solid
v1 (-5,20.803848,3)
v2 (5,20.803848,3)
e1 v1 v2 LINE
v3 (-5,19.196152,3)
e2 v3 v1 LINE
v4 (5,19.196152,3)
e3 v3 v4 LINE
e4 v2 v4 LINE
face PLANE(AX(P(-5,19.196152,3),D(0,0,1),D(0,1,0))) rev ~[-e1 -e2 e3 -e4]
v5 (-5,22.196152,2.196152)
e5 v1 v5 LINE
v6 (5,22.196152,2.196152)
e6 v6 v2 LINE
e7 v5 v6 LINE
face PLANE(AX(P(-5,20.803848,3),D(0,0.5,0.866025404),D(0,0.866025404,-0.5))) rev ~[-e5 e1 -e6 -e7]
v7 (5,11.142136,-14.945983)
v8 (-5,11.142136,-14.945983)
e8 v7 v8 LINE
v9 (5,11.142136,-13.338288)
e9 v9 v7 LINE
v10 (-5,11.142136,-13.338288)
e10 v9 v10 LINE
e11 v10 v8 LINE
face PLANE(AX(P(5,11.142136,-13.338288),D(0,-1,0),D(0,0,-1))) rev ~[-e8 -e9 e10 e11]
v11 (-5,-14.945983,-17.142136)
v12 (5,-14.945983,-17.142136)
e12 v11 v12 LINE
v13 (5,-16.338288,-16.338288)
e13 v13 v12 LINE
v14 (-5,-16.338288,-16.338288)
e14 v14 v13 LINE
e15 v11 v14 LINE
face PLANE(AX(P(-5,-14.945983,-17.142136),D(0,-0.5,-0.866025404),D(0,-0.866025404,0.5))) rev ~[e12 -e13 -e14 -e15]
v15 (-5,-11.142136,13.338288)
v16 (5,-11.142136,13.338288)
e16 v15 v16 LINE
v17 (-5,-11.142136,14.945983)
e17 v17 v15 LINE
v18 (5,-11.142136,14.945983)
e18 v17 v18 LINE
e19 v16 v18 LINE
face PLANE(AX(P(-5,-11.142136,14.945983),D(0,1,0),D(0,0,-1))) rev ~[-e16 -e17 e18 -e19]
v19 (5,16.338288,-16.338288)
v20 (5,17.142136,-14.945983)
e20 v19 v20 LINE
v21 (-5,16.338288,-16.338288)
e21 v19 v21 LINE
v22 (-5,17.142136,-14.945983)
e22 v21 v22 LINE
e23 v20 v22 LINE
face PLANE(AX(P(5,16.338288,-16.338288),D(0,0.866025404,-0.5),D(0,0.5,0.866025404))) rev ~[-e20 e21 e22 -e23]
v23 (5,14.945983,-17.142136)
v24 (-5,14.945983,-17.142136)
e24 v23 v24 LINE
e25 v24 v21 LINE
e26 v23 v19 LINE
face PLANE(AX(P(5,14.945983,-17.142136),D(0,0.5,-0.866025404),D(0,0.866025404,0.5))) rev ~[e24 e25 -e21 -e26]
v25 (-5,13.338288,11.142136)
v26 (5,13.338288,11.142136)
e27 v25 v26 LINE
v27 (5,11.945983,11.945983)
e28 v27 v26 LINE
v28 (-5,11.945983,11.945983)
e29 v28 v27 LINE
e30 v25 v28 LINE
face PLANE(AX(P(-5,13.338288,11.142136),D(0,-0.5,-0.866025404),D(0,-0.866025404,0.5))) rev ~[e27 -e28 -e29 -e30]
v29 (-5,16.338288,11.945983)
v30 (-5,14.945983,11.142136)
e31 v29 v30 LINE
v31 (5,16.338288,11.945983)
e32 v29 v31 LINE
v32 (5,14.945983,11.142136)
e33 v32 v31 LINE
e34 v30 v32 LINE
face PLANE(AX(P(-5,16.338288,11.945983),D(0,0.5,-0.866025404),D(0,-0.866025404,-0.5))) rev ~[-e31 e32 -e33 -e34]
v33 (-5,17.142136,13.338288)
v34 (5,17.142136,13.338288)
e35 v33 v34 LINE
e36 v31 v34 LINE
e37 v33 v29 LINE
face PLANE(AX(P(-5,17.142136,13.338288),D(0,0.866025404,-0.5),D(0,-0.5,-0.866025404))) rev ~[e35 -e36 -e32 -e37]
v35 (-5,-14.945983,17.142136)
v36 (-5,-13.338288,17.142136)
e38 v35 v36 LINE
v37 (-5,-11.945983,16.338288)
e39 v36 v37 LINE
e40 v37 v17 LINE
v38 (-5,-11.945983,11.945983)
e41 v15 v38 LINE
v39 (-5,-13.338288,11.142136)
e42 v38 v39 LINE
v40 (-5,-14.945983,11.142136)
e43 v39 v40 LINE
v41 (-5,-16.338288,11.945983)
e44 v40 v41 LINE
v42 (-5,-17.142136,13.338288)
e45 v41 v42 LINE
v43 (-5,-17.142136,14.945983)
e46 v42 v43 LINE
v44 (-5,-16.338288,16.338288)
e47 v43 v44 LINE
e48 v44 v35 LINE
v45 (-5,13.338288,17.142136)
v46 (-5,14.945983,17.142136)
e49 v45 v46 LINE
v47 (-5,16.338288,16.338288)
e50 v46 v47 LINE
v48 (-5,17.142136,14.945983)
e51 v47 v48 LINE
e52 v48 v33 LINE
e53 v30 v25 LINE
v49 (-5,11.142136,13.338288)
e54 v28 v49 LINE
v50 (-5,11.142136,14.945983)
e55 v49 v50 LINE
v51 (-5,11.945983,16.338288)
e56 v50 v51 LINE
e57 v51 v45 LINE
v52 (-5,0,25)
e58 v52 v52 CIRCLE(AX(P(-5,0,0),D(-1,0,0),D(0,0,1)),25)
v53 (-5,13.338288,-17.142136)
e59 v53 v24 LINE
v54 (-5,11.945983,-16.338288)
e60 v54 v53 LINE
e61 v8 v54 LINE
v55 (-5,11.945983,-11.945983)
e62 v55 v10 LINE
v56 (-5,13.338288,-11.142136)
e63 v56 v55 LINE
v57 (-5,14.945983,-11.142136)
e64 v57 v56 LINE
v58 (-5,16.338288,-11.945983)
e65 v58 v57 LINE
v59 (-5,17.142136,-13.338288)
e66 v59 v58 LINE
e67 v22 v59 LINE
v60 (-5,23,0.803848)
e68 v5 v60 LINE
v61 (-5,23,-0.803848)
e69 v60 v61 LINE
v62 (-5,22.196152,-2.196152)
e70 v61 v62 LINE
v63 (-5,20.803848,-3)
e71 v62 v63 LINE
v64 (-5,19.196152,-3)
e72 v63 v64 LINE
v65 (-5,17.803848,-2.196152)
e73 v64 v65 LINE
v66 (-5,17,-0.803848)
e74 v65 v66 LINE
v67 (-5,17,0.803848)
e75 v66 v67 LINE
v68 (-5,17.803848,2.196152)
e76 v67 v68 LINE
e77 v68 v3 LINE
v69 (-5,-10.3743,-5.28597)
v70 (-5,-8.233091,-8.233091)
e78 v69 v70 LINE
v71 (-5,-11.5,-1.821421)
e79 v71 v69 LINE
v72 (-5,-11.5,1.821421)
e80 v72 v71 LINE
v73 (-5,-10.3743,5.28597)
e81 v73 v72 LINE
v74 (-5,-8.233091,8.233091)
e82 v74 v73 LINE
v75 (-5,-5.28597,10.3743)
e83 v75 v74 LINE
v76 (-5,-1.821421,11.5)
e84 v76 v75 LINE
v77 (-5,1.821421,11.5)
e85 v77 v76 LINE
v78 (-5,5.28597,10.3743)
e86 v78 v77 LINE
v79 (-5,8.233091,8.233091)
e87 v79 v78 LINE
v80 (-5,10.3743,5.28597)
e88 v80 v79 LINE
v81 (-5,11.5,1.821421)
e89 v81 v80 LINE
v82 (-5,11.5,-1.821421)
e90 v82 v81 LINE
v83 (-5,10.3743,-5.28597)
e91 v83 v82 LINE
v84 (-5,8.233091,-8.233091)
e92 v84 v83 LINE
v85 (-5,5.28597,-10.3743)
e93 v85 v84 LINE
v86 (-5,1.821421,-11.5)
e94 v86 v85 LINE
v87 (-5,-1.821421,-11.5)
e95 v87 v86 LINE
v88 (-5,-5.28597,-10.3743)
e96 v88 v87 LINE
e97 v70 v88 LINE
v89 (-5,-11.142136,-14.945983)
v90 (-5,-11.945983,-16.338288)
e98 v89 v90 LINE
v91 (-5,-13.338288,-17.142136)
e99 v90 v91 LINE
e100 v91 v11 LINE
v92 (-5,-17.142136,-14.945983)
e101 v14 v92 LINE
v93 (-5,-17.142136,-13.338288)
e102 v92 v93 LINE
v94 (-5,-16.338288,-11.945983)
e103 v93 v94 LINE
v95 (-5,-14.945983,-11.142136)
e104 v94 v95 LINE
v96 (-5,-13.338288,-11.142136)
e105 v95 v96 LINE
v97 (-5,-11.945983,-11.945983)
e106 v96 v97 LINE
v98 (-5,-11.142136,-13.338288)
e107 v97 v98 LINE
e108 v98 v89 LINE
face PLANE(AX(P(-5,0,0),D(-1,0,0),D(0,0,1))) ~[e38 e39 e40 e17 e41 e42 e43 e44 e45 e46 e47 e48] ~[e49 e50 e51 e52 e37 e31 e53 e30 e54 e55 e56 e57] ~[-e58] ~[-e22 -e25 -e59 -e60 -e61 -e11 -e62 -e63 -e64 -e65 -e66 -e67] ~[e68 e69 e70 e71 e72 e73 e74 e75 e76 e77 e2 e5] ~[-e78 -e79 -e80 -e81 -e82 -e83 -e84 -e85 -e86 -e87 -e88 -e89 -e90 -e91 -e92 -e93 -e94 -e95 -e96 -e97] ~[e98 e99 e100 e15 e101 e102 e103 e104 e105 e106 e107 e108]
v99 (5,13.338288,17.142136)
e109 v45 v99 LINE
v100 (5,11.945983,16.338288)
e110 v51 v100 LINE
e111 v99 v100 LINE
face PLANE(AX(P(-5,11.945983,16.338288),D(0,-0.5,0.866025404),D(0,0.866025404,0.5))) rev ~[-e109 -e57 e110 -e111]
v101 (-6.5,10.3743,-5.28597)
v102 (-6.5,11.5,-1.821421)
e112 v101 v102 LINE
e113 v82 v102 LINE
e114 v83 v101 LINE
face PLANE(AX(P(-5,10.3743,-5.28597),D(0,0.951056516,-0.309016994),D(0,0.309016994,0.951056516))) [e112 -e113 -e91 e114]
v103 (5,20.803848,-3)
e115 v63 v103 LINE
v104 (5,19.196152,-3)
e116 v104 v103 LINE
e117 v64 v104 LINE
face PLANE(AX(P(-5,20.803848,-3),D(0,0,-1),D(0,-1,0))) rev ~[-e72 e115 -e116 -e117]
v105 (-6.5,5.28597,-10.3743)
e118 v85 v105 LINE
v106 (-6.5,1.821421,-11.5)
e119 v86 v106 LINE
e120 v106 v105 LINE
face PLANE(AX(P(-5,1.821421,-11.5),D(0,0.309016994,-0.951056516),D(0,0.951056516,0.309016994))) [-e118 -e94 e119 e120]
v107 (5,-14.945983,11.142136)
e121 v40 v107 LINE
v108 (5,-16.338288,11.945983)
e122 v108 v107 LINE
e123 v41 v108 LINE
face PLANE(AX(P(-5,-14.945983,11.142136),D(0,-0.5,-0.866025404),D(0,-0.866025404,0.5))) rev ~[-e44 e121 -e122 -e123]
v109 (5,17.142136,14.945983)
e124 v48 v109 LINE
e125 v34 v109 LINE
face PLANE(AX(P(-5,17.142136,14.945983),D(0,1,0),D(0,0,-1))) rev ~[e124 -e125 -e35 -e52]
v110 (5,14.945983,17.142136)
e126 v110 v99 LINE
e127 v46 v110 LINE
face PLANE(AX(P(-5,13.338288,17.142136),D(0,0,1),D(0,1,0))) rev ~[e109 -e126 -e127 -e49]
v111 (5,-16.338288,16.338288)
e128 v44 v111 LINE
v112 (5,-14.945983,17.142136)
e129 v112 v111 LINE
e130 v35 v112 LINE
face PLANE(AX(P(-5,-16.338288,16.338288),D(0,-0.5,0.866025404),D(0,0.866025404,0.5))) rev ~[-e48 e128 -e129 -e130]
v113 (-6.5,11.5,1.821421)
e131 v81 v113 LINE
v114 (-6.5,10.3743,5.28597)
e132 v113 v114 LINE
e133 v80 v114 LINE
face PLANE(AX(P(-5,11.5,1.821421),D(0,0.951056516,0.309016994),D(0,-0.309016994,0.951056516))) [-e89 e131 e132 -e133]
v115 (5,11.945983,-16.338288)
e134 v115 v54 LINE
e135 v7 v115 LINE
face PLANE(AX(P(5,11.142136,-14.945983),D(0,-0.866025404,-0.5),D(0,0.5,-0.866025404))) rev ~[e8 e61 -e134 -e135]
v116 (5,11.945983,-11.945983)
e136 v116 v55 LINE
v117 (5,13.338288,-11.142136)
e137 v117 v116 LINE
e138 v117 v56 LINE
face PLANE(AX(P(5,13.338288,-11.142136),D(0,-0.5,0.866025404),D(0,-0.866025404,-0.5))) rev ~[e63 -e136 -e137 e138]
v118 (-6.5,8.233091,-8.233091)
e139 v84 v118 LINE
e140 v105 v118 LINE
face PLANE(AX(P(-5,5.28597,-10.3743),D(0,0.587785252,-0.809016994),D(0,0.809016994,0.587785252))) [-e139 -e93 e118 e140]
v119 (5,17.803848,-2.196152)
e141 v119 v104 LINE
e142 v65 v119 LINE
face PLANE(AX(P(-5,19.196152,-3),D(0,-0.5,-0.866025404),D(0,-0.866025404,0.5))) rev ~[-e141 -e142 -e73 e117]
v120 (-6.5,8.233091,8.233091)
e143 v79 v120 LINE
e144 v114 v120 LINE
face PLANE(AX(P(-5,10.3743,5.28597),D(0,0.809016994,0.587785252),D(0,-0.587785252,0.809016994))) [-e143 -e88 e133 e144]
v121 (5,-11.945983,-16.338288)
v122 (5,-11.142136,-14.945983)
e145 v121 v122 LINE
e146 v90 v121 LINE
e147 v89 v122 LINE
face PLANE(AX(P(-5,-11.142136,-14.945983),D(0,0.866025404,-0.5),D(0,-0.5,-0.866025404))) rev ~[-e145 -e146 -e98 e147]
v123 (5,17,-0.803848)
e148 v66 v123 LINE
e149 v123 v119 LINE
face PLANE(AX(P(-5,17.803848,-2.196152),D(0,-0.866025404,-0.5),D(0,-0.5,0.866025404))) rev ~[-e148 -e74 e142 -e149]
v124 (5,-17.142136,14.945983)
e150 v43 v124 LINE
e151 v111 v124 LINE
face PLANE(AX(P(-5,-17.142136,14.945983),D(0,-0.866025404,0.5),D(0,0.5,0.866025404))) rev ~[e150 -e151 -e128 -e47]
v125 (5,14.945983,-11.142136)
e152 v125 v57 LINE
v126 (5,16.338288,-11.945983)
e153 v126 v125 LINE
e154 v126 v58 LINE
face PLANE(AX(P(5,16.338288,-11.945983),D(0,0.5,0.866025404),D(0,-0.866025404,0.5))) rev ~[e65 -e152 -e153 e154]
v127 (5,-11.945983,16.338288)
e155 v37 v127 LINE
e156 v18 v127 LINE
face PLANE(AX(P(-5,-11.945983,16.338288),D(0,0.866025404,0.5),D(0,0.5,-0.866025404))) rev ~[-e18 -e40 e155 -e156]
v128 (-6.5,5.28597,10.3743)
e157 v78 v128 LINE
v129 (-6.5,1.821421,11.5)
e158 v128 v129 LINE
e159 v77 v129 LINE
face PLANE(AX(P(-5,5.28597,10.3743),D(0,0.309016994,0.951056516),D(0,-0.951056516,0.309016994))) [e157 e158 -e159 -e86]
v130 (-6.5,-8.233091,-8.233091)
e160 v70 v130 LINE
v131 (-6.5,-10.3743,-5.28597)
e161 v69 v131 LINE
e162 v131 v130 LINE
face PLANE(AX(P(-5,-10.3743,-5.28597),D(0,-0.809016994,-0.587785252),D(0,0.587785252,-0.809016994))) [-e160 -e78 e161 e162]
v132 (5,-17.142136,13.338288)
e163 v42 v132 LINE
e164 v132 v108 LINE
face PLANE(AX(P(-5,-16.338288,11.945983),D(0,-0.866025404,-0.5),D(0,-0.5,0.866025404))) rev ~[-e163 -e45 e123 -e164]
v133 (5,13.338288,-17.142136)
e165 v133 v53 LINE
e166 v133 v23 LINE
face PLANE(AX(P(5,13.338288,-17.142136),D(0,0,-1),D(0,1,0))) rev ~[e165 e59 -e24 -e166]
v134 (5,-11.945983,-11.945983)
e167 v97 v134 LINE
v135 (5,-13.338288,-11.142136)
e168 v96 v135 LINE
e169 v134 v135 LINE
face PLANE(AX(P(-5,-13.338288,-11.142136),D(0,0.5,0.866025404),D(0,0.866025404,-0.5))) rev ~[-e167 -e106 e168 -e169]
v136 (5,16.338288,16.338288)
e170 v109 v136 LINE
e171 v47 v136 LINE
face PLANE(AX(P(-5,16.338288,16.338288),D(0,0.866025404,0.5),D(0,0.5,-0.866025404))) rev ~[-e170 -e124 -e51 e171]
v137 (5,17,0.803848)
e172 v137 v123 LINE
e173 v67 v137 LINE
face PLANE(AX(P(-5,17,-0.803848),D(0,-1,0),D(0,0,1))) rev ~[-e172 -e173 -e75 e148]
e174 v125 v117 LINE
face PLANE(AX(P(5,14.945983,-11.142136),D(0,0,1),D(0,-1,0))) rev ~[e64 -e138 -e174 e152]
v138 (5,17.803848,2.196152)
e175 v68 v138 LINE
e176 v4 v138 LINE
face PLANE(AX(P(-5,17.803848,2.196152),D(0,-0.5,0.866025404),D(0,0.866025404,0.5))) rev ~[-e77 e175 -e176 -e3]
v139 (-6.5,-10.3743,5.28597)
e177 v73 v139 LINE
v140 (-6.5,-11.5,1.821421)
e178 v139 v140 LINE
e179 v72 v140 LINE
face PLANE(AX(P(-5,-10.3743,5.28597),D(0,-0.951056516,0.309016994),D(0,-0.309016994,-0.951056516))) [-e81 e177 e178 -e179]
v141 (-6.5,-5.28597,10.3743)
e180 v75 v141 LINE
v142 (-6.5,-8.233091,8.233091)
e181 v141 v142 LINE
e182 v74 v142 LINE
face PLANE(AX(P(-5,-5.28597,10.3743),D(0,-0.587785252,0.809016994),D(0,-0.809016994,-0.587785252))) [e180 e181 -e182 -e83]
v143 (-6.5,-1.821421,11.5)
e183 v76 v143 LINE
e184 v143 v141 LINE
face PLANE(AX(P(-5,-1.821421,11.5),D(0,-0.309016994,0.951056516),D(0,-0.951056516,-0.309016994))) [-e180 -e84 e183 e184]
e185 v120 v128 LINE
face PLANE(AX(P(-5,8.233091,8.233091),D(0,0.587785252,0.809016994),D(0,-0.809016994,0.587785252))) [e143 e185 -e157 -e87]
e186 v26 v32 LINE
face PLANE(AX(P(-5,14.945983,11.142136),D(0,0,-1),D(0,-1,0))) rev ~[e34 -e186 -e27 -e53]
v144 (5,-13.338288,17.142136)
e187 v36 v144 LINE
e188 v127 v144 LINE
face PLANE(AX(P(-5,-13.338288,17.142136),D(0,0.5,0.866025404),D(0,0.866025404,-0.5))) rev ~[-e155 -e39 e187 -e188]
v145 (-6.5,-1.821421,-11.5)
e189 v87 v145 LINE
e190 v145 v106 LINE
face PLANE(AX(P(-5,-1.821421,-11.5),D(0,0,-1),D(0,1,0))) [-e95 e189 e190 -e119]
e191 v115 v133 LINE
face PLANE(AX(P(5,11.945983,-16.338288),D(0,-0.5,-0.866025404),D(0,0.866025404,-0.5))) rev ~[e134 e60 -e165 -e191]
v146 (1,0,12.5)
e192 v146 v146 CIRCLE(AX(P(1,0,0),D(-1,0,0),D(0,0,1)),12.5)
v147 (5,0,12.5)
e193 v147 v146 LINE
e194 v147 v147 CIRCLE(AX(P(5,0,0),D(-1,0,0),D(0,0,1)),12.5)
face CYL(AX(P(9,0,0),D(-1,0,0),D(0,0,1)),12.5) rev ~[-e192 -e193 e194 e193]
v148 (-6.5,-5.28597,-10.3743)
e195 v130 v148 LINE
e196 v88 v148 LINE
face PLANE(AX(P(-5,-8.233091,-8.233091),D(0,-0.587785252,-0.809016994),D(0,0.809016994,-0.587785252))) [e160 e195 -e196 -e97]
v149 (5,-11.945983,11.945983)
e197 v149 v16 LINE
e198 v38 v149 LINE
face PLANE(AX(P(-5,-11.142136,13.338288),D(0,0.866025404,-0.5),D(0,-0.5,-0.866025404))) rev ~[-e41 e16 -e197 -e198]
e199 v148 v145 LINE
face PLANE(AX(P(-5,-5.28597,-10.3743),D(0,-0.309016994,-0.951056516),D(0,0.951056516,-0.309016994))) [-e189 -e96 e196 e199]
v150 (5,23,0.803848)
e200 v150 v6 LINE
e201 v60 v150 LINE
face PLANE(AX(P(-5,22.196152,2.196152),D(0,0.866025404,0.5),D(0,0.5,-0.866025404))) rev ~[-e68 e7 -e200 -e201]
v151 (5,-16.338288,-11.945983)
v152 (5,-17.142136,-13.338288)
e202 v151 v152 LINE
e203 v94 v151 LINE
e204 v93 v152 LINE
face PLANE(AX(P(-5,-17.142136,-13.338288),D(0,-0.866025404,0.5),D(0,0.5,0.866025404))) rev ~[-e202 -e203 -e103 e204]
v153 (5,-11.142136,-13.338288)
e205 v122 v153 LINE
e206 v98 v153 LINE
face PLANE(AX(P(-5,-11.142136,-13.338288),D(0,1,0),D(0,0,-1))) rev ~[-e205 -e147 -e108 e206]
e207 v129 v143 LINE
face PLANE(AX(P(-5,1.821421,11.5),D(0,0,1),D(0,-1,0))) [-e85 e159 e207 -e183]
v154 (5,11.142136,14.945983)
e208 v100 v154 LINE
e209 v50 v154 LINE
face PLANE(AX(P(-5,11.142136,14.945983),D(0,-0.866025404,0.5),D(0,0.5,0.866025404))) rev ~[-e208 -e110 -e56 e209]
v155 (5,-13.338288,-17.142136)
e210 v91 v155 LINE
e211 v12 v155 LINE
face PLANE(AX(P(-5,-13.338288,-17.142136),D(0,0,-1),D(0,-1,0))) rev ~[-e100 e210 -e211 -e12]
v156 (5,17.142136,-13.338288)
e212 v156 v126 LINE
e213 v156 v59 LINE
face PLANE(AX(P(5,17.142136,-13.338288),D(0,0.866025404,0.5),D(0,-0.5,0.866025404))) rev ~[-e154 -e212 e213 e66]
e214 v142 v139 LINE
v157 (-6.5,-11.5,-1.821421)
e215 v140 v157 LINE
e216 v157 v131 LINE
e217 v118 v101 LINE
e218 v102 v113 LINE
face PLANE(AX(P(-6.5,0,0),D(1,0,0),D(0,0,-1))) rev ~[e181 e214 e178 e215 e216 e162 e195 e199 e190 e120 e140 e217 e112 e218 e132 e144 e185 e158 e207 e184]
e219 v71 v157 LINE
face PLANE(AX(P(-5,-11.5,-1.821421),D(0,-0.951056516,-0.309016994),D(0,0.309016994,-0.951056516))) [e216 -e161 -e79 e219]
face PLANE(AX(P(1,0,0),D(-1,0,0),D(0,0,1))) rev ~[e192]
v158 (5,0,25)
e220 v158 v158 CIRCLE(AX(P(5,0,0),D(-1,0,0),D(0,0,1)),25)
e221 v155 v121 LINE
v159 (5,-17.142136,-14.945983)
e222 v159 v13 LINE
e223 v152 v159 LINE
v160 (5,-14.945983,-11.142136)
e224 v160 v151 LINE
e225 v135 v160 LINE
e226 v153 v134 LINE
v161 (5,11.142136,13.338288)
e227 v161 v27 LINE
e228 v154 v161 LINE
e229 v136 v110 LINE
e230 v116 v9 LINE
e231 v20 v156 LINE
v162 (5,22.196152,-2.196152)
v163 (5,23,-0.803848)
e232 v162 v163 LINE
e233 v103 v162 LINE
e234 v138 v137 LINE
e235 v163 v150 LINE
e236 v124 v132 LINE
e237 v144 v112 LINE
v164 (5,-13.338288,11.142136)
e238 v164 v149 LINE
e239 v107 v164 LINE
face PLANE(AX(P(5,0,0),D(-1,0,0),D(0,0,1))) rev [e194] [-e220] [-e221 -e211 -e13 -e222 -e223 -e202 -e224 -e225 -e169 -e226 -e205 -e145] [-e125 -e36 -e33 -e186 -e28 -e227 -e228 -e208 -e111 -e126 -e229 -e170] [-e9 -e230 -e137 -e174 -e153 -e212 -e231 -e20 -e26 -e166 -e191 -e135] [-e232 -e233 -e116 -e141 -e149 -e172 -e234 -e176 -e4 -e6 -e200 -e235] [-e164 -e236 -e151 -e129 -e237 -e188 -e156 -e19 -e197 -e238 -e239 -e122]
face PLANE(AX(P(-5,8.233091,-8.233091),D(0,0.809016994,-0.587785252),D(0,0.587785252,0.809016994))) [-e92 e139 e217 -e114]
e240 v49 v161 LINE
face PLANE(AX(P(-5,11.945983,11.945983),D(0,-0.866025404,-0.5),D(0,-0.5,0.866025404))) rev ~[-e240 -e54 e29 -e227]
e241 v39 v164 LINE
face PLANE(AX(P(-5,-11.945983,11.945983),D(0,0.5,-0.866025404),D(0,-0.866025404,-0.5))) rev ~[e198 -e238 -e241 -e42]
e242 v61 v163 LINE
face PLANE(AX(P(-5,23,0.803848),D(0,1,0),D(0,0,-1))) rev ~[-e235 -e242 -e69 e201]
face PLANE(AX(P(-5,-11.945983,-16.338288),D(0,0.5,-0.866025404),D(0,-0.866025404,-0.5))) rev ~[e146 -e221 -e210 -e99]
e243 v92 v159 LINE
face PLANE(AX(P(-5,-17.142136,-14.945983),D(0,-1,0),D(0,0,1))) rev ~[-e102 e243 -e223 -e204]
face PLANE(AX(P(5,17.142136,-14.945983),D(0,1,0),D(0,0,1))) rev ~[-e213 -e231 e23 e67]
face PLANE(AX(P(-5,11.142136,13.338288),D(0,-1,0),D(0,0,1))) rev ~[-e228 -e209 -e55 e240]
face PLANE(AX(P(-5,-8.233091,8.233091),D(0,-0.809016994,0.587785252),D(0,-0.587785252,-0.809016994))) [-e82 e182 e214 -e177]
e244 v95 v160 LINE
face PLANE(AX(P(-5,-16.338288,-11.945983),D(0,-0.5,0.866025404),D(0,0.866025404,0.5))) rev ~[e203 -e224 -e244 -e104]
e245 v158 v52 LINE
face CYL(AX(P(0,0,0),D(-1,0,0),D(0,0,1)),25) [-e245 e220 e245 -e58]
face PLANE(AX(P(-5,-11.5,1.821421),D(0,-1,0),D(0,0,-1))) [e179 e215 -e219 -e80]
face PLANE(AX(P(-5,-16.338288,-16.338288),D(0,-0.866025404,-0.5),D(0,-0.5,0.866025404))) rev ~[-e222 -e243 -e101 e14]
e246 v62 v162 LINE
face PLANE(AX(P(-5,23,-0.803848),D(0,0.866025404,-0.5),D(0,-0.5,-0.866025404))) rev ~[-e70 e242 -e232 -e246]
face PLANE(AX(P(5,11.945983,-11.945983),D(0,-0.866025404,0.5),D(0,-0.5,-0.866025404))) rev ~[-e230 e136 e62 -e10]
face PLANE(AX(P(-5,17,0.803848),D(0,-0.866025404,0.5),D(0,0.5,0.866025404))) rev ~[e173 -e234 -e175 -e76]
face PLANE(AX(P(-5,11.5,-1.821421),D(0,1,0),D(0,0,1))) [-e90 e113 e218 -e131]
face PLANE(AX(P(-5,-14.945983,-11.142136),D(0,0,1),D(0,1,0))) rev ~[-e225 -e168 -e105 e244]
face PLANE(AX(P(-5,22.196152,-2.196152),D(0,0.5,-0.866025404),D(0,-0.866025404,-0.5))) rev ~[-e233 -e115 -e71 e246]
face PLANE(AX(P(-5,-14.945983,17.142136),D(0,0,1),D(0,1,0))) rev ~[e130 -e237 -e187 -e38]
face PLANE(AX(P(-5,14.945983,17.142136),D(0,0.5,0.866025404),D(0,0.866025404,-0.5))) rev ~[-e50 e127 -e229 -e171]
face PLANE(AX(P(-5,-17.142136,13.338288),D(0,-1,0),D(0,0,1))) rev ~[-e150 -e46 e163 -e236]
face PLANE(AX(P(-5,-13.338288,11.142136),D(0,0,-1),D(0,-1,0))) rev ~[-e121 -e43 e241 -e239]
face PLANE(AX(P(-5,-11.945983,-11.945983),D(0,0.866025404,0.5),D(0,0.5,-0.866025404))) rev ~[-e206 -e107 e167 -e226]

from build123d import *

# Parameters (mm, degrees)
SKETCH1_W                      = 10
SKETCH1_H                      = 25
CUT_EXTRUDE1_DEPTH             = 37.742346142
CUT_EXTRUDE2_DEPTH             = 37.742346142
CUT_EXTRUDE3_DEPTH             = 37.742346142
CUT_EXTRUDE4_DEPTH             = 37.742346142
CUT_EXTRUDE5_DEPTH             = 37.742346142
BOSS_EXTRUDE1_DEPTH            = 1.5
F_25_0_25_DIAMETER_HOLE1_D     = 25
F_25_0_25_DIAMETER_HOLE1_DEPTH = 4


with BuildPart() as part:
    # Sketch1 → Revolve1 (revolve)
    with BuildSketch(Plane(origin=(0, 0, 0), x_dir=(-1, 0, 0), z_dir=(0, 0, -1))):
        with Locations((0, 12.5)):
            Rectangle(SKETCH1_W, SKETCH1_H)
    revolve(axis=Axis((5, 0, 0), (-1, 0, 0)))

    # Sketch2 → Cut-Extrude1 (cut, through all)
    with BuildSketch(Plane.ZY.offset(5)):
        Polygon((0.803847577, 17), (2.196152423, 17.803847577), (3, 19.196152423), (3, 20.803847577), (2.196152423, 22.196152423), (0.803847577, 23), (-0.803847577, 23), (-2.196152423, 22.196152423), (-3, 20.803847577), (-3, 19.196152423), (-2.196152423, 17.803847577), (-0.803847577, 17), align=None)
    extrude(amount=-CUT_EXTRUDE1_DEPTH, mode=Mode.SUBTRACT)

    # Sketch3 → Cut-Extrude2 (cut, through all)
    with BuildSketch(Plane.ZY.offset(5)):
        Polygon((-13.338288046, -17.142135624), (-11.945983201, -16.338288046), (-11.142135624, -14.945983201), (-11.142135624, -13.338288046), (-11.945983201, -11.945983201), (-13.338288046, -11.142135624), (-14.945983201, -11.142135624), (-16.338288046, -11.945983201), (-17.142135624, -13.338288046), (-17.142135624, -14.945983201), (-16.338288046, -16.338288046), (-14.945983201, -17.142135624), align=None)
    extrude(amount=-CUT_EXTRUDE2_DEPTH, mode=Mode.SUBTRACT)

    # Sketch4 → Cut-Extrude3 (cut, through all)
    with BuildSketch(Plane.ZY.offset(5)):
        Polygon((14.945983201, -17.142135624), (16.338288046, -16.338288046), (17.142135624, -14.945983201), (17.142135624, -13.338288046), (16.338288046, -11.945983201), (14.945983201, -11.142135624), (13.338288046, -11.142135624), (11.945983201, -11.945983201), (11.142135624, -13.338288046), (11.142135624, -14.945983201), (11.945983201, -16.338288046), (13.338288046, -17.142135624), align=None)
    extrude(amount=-CUT_EXTRUDE3_DEPTH, mode=Mode.SUBTRACT)

    # Sketch5 → Cut-Extrude4 (cut, through all)
    with BuildSketch(Plane.ZY.offset(5)):
        Polygon((16.338288046, 11.945983201), (17.142135624, 13.338288046), (17.142135624, 14.945983201), (16.338288046, 16.338288046), (14.945983201, 17.142135624), (13.338288046, 17.142135624), (11.945983201, 16.338288046), (11.142135624, 14.945983201), (11.142135624, 13.338288046), (11.945983201, 11.945983201), (13.338288046, 11.142135624), (14.945983201, 11.142135624), align=None)
    extrude(amount=-CUT_EXTRUDE4_DEPTH, mode=Mode.SUBTRACT)

    # Sketch6 → Cut-Extrude5 (cut, through all)
    with BuildSketch(Plane(origin=(5, 0, 0), x_dir=(0, 0, -1), z_dir=(1, 0, 0))):
        Polygon((16.338288046, 11.945983201), (17.142135624, 13.338288046), (17.142135624, 14.945983201), (16.338288046, 16.338288046), (14.945983201, 17.142135624), (13.338288046, 17.142135624), (11.945983201, 16.338288046), (11.142135624, 14.945983201), (11.142135624, 13.338288046), (11.945983201, 11.945983201), (13.338288046, 11.142135624), (14.945983201, 11.142135624), align=None)
    extrude(amount=-CUT_EXTRUDE5_DEPTH, mode=Mode.SUBTRACT)

    # Sketch7 → Boss-Extrude1 (add)
    with BuildSketch(Plane.ZY.offset(5)):
        Polygon((8.233090996, -8.233090996), (5.285969807, -10.374299875), (1.821421064, -11.5), (-1.821421064, -11.5), (-5.285969807, -10.374299875), (-8.233090996, -8.233090996), (-10.374299875, -5.285969807), (-11.5, -1.821421064), (-11.5, 1.821421064), (-10.374299875, 5.285969807), (-8.233090996, 8.233090996), (-5.285969807, 10.374299875), (-1.821421064, 11.5), (1.821421064, 11.5), (5.285969807, 10.374299875), (8.233090996, 8.233090996), (10.374299875, 5.285969807), (11.5, 1.821421064), (11.5, -1.821421064), (10.374299875, -5.285969807), align=None)
    extrude(amount=BOSS_EXTRUDE1_DEPTH)

    # Ø25.0 (25) Diameter Hole1
    with Locations(Plane(origin=(5, 0, 0), x_dir=(0, 0, -1), z_dir=(1, 0, 0))):
        with Locations((0, 0)):
            Hole(F_25_0_25_DIAMETER_HOLE1_D / 2, depth=F_25_0_25_DIAMETER_HOLE1_DEPTH)


solid = part.part
